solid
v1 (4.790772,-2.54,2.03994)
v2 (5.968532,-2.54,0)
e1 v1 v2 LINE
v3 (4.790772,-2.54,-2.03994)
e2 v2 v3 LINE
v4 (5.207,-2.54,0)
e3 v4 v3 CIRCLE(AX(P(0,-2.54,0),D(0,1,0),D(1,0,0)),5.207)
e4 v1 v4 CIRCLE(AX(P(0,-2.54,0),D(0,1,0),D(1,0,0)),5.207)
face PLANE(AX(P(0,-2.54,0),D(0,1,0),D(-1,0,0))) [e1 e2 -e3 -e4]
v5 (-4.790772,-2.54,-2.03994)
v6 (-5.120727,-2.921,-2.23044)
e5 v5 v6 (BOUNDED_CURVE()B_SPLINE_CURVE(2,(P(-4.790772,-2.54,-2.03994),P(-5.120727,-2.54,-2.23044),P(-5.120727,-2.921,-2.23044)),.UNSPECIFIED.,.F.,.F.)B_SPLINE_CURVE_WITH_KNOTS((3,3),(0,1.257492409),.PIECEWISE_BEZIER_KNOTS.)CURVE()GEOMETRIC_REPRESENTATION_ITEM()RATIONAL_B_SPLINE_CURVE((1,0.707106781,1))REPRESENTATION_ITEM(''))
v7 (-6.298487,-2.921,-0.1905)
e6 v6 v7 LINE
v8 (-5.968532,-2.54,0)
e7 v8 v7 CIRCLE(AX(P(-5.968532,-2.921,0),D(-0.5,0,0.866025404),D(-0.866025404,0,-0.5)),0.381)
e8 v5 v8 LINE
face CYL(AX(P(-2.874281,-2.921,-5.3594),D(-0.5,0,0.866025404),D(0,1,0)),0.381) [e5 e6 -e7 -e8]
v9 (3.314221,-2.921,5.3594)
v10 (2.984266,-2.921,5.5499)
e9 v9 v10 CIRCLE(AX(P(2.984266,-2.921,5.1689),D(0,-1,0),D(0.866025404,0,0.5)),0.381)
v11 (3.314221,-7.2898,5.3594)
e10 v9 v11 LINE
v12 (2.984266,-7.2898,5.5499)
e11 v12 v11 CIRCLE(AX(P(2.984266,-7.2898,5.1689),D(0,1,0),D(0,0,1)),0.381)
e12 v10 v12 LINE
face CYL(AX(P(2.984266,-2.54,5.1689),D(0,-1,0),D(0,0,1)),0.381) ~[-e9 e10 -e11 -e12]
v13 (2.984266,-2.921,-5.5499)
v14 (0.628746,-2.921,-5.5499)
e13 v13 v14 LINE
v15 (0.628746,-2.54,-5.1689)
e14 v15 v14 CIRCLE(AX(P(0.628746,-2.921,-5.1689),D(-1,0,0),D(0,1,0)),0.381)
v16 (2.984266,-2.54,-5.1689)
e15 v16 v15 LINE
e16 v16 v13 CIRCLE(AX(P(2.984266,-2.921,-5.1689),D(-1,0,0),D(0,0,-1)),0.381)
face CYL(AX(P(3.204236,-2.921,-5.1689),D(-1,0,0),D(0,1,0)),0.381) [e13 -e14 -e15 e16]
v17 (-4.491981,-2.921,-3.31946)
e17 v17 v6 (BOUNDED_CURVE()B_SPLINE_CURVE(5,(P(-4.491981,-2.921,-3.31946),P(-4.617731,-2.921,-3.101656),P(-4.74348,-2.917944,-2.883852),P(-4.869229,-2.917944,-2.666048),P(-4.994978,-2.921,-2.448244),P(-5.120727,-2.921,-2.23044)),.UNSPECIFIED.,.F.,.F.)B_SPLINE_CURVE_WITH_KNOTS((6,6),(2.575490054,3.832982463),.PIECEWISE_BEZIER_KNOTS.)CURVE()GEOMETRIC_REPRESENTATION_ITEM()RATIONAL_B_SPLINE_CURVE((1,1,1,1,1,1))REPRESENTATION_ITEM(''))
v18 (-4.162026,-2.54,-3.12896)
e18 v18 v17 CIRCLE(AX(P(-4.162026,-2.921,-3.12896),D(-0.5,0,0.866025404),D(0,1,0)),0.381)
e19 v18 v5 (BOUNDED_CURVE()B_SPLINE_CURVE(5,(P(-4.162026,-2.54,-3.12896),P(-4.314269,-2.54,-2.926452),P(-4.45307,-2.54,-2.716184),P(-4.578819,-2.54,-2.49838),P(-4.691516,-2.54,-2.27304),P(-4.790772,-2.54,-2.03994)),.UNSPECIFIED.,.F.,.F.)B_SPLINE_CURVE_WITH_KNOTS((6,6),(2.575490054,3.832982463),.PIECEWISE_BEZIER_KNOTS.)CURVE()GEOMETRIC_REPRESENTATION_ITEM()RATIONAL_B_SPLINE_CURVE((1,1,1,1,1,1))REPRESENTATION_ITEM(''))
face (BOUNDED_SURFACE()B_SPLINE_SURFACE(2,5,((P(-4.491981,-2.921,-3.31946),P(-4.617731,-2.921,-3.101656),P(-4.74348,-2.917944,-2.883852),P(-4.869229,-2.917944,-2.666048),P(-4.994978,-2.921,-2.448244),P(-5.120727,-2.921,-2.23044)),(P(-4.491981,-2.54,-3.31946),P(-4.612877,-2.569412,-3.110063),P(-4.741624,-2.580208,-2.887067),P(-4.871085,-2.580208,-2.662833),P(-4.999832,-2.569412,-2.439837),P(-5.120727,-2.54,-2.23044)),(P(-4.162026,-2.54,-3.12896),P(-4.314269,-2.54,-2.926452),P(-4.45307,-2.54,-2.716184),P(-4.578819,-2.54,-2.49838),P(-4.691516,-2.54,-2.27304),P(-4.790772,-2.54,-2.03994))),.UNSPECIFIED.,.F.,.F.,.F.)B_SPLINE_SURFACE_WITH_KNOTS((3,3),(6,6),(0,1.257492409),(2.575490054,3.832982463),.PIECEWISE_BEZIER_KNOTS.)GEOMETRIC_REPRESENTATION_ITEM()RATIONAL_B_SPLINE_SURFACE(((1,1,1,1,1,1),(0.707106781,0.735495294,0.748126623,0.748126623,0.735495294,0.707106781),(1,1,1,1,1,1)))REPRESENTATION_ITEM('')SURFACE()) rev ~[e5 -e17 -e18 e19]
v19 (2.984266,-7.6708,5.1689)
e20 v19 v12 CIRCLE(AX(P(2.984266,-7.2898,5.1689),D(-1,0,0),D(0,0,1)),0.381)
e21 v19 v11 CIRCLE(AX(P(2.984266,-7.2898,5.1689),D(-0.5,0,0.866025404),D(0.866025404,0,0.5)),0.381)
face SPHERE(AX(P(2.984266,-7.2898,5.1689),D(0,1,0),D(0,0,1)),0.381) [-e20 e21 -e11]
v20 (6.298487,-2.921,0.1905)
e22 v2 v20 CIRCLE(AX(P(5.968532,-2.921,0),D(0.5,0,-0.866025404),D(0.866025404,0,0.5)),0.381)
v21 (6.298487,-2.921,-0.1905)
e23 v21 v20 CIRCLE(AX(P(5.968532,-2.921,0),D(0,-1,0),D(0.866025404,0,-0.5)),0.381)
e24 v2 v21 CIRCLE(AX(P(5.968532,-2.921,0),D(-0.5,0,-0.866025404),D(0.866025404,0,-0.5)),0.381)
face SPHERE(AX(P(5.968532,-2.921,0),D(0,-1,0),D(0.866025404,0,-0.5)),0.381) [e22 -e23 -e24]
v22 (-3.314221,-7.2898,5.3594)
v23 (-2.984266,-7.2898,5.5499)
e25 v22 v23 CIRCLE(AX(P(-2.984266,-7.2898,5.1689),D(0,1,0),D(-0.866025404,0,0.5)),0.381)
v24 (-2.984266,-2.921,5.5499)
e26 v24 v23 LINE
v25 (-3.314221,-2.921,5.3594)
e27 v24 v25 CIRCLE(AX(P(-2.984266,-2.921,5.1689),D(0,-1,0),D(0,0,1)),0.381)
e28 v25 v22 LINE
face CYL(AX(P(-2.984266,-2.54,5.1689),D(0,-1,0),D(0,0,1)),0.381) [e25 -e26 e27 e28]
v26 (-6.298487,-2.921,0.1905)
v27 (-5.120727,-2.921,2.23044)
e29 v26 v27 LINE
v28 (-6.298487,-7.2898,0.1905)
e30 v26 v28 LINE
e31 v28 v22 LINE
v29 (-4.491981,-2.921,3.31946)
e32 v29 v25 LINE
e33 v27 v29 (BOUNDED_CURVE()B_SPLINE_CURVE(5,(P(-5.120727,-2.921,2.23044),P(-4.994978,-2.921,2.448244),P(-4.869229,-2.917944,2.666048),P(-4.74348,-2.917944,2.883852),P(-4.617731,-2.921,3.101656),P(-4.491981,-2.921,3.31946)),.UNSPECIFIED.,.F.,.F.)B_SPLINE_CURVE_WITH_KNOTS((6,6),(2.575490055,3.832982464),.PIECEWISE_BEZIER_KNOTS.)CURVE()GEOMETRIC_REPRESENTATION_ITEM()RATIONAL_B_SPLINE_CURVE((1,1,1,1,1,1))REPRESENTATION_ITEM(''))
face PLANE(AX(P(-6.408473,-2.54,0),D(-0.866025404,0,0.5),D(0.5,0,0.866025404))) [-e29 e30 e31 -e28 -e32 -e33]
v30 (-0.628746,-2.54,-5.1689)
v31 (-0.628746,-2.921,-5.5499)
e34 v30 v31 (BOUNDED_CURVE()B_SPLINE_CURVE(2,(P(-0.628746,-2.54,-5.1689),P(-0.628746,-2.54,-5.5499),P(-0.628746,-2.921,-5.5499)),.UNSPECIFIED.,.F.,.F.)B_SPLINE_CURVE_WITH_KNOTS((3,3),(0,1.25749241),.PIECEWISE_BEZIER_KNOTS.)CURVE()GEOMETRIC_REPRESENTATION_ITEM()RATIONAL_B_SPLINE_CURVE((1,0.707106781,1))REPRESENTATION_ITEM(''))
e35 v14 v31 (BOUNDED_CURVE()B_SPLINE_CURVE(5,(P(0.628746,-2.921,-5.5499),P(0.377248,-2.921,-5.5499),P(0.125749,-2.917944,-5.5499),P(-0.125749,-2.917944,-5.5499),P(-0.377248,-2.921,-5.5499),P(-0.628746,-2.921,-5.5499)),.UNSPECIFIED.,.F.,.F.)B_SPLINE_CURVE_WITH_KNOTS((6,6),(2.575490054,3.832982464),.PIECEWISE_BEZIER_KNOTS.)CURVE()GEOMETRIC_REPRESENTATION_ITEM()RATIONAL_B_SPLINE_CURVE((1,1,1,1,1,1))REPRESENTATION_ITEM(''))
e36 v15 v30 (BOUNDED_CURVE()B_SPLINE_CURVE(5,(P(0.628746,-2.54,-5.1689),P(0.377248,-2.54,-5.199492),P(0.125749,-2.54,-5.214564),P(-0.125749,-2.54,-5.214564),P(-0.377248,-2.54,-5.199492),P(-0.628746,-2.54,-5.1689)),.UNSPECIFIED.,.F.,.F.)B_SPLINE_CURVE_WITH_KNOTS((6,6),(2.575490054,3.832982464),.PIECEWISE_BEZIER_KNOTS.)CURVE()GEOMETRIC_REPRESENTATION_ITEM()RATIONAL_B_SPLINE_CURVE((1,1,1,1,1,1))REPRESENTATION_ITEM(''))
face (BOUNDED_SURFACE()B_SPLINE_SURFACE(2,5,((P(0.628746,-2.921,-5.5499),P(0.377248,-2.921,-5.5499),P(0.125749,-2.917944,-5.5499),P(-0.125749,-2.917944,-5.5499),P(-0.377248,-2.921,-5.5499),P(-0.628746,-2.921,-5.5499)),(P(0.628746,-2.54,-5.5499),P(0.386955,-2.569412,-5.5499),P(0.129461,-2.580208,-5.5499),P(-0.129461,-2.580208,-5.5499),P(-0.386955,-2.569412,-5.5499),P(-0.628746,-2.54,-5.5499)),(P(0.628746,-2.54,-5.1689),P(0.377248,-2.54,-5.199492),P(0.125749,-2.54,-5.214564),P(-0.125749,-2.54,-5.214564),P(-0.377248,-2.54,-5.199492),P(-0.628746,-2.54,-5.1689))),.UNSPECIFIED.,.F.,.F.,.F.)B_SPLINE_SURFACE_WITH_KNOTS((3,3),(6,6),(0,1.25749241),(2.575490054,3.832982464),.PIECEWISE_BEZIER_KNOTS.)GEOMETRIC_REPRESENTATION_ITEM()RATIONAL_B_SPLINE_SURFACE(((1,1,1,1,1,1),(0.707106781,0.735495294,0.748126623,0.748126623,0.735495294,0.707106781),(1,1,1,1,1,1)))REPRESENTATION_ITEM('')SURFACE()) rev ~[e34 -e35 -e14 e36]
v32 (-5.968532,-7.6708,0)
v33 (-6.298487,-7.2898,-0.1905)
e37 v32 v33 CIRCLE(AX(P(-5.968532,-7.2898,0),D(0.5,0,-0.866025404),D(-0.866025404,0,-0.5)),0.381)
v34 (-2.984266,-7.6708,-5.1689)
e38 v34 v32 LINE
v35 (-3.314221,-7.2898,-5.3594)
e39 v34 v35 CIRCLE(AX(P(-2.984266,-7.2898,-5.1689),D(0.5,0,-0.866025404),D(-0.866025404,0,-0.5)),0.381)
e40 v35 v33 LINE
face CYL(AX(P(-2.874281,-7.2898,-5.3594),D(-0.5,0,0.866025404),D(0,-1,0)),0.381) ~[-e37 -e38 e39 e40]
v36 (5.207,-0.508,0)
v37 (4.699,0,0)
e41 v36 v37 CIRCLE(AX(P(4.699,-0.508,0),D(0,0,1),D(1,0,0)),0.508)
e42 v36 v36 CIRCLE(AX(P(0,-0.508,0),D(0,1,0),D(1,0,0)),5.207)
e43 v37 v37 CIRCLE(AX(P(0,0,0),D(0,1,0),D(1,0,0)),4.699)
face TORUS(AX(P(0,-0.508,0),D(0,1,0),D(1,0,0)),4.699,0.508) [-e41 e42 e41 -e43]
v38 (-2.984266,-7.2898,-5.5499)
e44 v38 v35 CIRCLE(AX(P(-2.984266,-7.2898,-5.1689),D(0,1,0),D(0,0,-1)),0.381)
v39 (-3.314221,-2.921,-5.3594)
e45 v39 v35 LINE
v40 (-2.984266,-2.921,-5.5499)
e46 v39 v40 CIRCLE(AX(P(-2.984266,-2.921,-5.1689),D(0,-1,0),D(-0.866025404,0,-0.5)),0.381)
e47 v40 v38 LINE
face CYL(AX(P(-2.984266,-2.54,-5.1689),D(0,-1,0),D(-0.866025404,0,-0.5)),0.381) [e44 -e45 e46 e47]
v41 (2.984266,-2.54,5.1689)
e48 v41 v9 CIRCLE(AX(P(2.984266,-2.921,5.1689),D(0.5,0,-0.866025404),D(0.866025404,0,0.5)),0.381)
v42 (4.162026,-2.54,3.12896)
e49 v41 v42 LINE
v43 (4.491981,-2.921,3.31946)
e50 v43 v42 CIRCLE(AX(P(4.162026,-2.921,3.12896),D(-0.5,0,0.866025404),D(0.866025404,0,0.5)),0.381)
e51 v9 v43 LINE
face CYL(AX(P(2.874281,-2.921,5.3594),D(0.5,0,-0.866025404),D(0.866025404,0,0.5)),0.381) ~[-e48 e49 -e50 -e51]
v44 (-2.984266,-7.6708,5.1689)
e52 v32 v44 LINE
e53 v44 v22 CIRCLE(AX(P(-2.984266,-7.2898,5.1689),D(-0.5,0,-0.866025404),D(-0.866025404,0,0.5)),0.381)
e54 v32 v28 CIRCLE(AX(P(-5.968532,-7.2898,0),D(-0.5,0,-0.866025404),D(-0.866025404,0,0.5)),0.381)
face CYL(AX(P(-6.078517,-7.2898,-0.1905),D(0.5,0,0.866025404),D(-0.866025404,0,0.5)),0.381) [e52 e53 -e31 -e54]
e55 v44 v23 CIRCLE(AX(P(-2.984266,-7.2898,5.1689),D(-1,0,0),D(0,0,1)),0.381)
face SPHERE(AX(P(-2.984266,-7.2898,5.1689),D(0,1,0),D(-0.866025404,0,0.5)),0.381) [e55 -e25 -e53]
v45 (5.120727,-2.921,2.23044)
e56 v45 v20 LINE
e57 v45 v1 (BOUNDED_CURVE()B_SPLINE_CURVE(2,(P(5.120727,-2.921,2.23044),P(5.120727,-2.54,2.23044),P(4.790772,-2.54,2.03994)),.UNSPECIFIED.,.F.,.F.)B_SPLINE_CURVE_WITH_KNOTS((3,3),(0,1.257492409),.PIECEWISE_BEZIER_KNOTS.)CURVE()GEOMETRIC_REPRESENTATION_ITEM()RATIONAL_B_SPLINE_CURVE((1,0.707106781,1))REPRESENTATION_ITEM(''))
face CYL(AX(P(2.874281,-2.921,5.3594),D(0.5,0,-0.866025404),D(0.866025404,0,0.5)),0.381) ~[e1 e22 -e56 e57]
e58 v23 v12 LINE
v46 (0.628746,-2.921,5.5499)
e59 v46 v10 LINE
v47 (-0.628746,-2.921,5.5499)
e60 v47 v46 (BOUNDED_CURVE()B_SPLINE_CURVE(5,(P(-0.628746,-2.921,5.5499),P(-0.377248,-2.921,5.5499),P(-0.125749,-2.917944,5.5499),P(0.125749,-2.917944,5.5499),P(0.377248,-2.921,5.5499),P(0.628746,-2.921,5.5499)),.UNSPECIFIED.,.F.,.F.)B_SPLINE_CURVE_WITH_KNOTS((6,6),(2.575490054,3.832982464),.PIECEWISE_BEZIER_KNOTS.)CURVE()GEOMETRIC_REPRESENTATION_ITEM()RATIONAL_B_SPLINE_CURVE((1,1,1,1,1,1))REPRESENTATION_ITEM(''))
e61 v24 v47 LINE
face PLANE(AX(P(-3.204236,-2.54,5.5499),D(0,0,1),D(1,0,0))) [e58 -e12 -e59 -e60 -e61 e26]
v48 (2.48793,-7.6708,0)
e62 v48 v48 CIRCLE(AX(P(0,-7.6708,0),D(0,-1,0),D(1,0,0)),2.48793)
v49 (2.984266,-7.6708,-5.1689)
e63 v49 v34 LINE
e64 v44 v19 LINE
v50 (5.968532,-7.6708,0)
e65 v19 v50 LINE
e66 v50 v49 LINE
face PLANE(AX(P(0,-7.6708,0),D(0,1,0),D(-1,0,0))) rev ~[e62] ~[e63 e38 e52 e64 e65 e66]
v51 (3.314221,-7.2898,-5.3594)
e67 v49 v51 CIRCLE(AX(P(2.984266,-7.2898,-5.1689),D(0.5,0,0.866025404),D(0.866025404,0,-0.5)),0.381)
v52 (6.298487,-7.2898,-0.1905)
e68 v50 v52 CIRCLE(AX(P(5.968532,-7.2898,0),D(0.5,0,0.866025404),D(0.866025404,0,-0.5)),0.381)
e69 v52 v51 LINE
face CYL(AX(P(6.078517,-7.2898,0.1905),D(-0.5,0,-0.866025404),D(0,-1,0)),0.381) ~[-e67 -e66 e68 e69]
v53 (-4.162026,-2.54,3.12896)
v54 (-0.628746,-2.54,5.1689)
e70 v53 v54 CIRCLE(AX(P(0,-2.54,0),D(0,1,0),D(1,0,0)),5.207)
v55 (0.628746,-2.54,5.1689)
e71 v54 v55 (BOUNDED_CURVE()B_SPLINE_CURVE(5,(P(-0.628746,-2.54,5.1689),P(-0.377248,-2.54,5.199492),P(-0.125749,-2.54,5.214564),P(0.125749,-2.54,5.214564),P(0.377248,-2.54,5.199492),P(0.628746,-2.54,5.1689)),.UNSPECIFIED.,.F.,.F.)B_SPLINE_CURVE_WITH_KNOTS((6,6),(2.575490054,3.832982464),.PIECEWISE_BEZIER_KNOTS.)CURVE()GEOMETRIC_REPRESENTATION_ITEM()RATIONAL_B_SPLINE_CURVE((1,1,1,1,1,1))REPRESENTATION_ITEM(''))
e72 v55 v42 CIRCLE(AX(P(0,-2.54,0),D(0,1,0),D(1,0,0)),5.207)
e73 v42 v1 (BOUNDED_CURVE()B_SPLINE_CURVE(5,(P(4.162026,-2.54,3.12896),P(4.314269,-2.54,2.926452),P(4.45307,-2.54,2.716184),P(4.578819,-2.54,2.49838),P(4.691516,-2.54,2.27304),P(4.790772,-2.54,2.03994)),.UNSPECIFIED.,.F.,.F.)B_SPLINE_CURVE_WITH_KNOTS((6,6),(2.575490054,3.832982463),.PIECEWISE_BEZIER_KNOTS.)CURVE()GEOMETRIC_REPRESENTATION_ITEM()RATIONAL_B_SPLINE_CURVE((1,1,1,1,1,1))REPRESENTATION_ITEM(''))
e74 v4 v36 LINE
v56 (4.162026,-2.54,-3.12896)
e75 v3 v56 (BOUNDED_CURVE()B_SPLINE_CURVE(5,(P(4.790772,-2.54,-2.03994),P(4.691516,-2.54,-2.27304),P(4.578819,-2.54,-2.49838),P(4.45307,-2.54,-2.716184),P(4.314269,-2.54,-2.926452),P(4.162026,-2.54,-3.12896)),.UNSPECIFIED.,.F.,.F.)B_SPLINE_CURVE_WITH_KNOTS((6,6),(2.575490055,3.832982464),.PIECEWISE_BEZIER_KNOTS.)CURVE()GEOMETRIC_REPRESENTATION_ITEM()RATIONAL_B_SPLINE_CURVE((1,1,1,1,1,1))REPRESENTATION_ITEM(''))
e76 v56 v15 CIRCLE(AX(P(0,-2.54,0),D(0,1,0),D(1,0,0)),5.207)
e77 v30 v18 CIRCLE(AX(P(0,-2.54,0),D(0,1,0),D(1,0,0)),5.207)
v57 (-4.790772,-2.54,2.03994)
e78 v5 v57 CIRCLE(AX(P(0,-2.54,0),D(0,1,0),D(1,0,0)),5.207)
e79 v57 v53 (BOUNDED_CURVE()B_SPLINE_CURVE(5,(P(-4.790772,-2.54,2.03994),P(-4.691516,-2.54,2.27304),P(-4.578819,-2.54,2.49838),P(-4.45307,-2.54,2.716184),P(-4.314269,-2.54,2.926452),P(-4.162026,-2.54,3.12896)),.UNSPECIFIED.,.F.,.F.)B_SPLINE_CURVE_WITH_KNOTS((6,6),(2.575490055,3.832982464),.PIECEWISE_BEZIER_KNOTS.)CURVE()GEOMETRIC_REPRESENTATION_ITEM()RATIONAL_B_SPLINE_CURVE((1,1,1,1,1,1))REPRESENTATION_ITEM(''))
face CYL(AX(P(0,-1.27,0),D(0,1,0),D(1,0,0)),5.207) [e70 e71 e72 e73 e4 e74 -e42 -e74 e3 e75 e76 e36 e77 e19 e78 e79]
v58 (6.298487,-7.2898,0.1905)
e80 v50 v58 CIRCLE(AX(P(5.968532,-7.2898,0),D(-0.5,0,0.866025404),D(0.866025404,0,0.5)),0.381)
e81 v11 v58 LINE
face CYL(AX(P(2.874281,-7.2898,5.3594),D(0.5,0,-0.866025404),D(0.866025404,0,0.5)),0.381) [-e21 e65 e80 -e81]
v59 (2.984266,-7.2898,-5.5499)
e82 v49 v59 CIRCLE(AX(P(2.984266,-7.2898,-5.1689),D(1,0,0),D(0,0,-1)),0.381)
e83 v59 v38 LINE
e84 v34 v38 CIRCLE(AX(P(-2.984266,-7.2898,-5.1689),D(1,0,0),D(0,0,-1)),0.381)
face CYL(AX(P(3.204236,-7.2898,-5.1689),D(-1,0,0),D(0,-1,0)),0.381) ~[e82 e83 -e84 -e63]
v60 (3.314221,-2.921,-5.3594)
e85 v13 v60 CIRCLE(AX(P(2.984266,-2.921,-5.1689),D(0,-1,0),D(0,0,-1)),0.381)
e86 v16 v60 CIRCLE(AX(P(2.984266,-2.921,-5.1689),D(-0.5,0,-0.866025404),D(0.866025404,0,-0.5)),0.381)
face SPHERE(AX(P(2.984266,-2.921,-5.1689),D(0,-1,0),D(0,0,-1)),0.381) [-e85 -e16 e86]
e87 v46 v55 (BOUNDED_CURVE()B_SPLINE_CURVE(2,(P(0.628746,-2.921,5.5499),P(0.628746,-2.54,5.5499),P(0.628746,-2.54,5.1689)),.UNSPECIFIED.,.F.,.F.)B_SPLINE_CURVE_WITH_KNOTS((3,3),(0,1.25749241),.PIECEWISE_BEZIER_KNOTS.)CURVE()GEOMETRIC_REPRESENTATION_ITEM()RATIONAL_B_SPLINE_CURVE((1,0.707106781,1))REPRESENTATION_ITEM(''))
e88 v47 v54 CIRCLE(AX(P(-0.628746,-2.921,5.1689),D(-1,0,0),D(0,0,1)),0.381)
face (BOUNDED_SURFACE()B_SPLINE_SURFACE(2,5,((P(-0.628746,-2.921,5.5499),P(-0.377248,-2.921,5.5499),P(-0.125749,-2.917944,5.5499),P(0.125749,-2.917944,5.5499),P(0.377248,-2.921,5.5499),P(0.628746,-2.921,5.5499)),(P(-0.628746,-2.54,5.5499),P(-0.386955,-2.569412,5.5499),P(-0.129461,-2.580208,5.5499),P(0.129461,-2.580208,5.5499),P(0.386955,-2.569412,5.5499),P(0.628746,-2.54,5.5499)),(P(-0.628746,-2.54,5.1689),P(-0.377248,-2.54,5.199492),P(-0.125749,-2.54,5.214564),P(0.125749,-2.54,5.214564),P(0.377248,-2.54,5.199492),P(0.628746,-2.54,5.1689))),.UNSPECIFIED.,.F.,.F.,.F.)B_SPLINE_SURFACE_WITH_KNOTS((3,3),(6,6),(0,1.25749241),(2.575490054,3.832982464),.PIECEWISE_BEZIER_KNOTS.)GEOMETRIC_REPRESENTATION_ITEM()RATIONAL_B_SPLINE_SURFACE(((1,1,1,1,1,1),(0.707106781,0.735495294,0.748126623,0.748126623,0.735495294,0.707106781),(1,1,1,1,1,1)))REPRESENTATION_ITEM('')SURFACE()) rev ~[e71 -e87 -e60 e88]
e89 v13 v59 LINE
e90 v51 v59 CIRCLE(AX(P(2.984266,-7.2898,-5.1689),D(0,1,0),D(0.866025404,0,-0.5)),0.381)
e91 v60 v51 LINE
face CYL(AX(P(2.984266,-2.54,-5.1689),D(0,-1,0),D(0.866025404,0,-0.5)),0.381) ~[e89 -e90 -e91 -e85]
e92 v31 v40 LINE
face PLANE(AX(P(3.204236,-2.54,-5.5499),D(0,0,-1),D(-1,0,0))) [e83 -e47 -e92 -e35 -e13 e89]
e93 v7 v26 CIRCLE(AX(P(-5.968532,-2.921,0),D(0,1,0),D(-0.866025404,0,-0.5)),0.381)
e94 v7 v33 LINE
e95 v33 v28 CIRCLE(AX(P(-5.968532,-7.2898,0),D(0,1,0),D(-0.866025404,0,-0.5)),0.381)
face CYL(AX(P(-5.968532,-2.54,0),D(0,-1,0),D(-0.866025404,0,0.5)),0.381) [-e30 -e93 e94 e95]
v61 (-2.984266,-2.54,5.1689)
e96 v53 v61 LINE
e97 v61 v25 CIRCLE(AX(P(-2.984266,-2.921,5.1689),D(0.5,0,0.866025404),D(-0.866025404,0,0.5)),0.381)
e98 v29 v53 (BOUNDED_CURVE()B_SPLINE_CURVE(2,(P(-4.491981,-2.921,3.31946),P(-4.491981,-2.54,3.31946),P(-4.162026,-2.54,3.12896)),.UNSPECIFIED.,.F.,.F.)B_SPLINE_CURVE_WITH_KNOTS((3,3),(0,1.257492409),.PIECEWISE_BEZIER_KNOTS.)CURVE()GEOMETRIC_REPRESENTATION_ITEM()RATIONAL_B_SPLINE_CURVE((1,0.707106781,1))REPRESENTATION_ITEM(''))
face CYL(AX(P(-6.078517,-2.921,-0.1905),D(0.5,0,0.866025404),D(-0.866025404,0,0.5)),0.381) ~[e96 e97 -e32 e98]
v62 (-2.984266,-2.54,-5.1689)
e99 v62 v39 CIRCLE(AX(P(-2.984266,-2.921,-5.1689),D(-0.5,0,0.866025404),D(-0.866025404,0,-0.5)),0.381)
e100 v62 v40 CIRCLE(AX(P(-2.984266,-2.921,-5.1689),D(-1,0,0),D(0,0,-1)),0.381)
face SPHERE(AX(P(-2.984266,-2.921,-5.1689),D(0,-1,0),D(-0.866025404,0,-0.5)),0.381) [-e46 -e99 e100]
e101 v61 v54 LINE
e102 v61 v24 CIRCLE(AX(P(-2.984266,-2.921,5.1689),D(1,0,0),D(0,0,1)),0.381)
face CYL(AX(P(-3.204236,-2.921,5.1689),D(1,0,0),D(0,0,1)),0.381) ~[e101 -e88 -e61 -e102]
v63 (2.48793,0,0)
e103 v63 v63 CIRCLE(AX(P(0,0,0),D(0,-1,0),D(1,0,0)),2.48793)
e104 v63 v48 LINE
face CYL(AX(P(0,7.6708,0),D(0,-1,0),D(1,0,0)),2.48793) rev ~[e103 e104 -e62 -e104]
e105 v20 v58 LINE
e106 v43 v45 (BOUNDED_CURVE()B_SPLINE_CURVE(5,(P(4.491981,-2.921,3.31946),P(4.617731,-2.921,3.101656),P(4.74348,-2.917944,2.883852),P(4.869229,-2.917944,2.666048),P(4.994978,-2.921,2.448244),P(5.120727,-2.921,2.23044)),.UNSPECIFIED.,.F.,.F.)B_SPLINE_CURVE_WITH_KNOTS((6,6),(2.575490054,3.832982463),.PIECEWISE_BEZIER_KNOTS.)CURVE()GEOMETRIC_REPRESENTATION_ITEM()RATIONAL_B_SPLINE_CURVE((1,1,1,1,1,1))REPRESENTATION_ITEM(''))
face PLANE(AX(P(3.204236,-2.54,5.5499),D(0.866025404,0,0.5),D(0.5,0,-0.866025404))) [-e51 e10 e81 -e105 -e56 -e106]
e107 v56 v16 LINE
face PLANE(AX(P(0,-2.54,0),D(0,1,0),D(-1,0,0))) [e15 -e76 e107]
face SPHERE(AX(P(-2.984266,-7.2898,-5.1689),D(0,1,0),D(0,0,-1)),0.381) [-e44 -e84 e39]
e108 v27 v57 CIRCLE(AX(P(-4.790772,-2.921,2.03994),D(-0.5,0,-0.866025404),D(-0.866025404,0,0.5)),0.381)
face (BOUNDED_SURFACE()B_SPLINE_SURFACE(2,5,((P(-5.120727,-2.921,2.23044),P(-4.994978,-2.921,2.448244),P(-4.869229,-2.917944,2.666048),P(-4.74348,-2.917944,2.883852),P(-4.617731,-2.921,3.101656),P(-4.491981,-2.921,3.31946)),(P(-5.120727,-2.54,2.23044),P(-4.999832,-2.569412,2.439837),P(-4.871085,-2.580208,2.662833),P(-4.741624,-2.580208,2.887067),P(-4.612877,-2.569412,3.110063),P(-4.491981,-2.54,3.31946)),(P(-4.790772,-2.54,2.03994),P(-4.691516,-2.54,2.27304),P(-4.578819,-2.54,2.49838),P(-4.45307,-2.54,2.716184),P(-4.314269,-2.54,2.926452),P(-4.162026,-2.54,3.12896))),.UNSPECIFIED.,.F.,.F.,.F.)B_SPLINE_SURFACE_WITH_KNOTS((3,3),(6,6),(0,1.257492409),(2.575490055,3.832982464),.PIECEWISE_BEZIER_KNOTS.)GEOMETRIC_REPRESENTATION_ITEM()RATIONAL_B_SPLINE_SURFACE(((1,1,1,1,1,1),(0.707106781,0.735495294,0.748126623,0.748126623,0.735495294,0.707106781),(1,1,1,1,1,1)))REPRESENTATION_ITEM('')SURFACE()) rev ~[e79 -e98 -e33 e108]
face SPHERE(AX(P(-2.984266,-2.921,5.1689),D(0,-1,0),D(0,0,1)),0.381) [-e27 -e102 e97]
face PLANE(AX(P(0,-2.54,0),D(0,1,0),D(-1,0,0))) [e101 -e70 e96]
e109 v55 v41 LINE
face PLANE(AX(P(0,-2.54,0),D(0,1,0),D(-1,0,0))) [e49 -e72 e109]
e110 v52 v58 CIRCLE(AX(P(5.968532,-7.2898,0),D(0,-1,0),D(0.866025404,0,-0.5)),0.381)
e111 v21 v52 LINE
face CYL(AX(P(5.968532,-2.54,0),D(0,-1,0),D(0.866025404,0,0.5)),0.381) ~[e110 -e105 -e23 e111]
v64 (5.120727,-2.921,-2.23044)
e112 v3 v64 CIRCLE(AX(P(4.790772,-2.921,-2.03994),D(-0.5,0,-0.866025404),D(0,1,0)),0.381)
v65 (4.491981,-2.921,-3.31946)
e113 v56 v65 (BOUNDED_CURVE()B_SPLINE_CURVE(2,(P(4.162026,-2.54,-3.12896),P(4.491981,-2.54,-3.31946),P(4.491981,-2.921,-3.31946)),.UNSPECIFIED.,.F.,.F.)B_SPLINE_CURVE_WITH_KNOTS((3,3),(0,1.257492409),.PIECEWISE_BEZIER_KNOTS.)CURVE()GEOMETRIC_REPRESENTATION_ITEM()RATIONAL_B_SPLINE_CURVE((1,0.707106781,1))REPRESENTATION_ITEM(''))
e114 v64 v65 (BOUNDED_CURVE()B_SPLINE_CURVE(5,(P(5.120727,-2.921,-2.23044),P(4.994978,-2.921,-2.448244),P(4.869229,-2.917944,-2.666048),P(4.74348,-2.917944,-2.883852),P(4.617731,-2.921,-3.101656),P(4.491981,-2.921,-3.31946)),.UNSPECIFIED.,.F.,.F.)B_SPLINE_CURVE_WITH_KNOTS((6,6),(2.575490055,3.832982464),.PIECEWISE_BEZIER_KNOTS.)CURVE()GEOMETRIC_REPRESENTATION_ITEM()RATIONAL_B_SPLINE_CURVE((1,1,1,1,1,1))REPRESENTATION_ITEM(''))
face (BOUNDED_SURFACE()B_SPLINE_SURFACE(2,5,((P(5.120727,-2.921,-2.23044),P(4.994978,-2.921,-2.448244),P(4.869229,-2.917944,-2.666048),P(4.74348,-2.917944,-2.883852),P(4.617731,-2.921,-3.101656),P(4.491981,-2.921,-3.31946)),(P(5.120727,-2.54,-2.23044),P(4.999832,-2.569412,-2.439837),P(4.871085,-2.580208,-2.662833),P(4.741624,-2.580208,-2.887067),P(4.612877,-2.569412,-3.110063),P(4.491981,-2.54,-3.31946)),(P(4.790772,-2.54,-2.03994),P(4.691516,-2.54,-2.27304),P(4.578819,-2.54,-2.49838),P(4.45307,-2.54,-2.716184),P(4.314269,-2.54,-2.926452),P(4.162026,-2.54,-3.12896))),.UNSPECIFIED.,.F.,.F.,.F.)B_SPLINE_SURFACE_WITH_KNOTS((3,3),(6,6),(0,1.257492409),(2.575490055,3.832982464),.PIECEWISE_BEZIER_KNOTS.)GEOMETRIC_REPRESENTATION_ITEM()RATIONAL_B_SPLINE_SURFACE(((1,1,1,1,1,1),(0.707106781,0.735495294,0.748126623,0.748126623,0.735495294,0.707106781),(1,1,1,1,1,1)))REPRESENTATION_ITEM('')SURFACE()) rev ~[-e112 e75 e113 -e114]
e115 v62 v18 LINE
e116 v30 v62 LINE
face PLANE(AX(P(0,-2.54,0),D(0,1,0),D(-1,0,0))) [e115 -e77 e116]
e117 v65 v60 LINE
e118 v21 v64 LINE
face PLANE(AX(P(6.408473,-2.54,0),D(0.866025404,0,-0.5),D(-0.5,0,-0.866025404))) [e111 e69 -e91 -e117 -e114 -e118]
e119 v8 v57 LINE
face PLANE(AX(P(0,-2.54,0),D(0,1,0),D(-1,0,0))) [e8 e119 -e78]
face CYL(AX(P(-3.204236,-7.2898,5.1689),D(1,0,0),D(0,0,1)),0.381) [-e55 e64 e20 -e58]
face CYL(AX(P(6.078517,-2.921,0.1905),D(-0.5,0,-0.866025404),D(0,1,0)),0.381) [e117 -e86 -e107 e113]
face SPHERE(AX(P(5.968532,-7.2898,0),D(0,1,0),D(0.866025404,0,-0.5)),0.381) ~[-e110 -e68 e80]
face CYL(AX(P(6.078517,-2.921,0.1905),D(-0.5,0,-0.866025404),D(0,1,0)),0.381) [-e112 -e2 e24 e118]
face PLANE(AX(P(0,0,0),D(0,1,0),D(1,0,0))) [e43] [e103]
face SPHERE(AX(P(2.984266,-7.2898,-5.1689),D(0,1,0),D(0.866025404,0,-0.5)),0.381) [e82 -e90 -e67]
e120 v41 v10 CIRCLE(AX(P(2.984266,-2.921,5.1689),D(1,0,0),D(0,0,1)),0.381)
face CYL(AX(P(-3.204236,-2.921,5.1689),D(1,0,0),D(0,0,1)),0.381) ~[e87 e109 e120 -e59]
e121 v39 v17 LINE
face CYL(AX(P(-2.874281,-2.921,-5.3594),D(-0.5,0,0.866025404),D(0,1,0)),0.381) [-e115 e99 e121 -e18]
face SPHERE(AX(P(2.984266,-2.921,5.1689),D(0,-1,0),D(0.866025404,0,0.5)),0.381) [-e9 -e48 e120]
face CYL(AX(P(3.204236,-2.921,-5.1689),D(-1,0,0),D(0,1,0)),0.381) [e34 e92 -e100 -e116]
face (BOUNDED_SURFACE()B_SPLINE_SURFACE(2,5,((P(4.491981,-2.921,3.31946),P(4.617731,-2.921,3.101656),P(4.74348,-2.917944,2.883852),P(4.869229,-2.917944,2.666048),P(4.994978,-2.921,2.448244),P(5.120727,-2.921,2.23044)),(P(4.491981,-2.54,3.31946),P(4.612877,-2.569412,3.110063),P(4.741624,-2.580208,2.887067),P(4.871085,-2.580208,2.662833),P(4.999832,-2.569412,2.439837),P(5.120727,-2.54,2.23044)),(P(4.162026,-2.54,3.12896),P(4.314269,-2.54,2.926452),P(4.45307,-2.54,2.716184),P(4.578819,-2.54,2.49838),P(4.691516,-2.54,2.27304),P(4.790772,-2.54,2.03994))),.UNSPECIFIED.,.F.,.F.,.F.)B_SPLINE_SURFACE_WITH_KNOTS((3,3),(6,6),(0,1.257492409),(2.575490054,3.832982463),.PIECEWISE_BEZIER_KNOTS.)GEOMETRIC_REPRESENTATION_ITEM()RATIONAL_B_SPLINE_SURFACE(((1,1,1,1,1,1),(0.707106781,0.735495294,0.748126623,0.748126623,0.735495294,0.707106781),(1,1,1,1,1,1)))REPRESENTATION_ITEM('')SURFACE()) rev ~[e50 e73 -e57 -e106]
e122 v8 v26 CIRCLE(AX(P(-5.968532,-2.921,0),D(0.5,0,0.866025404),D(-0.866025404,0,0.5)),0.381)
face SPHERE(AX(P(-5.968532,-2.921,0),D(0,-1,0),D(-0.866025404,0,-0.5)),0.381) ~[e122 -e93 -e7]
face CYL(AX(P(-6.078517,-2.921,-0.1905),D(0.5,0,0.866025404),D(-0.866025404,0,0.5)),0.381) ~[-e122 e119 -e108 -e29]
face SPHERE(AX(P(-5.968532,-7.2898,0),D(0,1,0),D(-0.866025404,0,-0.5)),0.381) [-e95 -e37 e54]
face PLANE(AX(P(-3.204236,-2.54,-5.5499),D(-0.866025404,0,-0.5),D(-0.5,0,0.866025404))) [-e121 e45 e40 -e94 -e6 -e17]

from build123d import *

# Parameters (mm, degrees)
EXTRUDE1_DEPTH = 5.1308
SKETCH2_W      = 5.207
SKETCH2_H      = 2.54
HOLEWZD1_D     = 4.97586
HOLEWZD1_DEPTH = 7.6708
FILLET1_R      = 0.381
FILLET2_R      = 0.508


with BuildPart() as part:
    # Sketch1 → Extrude1 (new body)
    with BuildSketch(Plane(origin=(0, -2.54, 0), x_dir=(-1, 0, 0), z_dir=(0, 1, 0))):
        Polygon((3.204236259, 5.5499), (-3.204236259, 5.5499), (-6.408472518, 0), (-3.204236259, -5.5499), (3.204236259, -5.5499), (6.408472518, 0), align=None)
    extrude(amount=-EXTRUDE1_DEPTH)

    # Sketch2 → Revolve1 (revolve)
    with BuildSketch(Plane(origin=(0, 0, 0), x_dir=(-1, 0, 0), z_dir=(0, 0, -1))):
        with Locations((-2.6035, -1.27)):
            Rectangle(SKETCH2_W, SKETCH2_H)
    revolve(axis=Axis((0, -2.54, 0), (0, 1, 0)))

    # HoleWzd1
    with Locations(Plane(origin=(0, 0, 0), x_dir=(-1, 0, 0), z_dir=(0, 1, 0))):
        with Locations((0, 0)):
            Hole(HOLEWZD1_D / 2, depth=HOLEWZD1_DEPTH)

    # Fillet1
    fillet1_edges = [part.edges().sort_by_distance(p)[0] for p in [
        (4.806354388, -7.6708, 2.77495),
        (-6.408472518, -5.1054, 0),
        (-3.204236259, -5.1054, -5.5499),
        (3.204236259, -5.1054, -5.5499),
        (6.408472518, -5.1054, 0),
        (3.204236259, -5.1054, 5.5499),
        (-3.204236259, -5.1054, 5.5499),
        (4.806354388, -7.6708, -2.77495),
        (0, -7.6708, -5.5499),
        (-4.806354388, -7.6708, -2.77495),
        (-4.806354388, -7.6708, 2.77495),
        (-4.806354388, -2.54, -2.77495),
        (0, -2.54, -5.5499),
        (4.806354388, -2.54, -2.77495),
        (0, -7.6708, 5.5499),
        (4.806354388, -2.54, 2.77495),
        (0, -2.54, 5.5499),
        (-4.806354388, -2.54, 2.77495),
    ]]
    fillet(fillet1_edges, radius=FILLET1_R)

    # Fillet2
    fillet2_edges = [part.edges().sort_by_distance(p)[0] for p in [
        (-5.207, 0, 0),
    ]]
    fillet(fillet2_edges, radius=FILLET2_R)


solid = part.part
